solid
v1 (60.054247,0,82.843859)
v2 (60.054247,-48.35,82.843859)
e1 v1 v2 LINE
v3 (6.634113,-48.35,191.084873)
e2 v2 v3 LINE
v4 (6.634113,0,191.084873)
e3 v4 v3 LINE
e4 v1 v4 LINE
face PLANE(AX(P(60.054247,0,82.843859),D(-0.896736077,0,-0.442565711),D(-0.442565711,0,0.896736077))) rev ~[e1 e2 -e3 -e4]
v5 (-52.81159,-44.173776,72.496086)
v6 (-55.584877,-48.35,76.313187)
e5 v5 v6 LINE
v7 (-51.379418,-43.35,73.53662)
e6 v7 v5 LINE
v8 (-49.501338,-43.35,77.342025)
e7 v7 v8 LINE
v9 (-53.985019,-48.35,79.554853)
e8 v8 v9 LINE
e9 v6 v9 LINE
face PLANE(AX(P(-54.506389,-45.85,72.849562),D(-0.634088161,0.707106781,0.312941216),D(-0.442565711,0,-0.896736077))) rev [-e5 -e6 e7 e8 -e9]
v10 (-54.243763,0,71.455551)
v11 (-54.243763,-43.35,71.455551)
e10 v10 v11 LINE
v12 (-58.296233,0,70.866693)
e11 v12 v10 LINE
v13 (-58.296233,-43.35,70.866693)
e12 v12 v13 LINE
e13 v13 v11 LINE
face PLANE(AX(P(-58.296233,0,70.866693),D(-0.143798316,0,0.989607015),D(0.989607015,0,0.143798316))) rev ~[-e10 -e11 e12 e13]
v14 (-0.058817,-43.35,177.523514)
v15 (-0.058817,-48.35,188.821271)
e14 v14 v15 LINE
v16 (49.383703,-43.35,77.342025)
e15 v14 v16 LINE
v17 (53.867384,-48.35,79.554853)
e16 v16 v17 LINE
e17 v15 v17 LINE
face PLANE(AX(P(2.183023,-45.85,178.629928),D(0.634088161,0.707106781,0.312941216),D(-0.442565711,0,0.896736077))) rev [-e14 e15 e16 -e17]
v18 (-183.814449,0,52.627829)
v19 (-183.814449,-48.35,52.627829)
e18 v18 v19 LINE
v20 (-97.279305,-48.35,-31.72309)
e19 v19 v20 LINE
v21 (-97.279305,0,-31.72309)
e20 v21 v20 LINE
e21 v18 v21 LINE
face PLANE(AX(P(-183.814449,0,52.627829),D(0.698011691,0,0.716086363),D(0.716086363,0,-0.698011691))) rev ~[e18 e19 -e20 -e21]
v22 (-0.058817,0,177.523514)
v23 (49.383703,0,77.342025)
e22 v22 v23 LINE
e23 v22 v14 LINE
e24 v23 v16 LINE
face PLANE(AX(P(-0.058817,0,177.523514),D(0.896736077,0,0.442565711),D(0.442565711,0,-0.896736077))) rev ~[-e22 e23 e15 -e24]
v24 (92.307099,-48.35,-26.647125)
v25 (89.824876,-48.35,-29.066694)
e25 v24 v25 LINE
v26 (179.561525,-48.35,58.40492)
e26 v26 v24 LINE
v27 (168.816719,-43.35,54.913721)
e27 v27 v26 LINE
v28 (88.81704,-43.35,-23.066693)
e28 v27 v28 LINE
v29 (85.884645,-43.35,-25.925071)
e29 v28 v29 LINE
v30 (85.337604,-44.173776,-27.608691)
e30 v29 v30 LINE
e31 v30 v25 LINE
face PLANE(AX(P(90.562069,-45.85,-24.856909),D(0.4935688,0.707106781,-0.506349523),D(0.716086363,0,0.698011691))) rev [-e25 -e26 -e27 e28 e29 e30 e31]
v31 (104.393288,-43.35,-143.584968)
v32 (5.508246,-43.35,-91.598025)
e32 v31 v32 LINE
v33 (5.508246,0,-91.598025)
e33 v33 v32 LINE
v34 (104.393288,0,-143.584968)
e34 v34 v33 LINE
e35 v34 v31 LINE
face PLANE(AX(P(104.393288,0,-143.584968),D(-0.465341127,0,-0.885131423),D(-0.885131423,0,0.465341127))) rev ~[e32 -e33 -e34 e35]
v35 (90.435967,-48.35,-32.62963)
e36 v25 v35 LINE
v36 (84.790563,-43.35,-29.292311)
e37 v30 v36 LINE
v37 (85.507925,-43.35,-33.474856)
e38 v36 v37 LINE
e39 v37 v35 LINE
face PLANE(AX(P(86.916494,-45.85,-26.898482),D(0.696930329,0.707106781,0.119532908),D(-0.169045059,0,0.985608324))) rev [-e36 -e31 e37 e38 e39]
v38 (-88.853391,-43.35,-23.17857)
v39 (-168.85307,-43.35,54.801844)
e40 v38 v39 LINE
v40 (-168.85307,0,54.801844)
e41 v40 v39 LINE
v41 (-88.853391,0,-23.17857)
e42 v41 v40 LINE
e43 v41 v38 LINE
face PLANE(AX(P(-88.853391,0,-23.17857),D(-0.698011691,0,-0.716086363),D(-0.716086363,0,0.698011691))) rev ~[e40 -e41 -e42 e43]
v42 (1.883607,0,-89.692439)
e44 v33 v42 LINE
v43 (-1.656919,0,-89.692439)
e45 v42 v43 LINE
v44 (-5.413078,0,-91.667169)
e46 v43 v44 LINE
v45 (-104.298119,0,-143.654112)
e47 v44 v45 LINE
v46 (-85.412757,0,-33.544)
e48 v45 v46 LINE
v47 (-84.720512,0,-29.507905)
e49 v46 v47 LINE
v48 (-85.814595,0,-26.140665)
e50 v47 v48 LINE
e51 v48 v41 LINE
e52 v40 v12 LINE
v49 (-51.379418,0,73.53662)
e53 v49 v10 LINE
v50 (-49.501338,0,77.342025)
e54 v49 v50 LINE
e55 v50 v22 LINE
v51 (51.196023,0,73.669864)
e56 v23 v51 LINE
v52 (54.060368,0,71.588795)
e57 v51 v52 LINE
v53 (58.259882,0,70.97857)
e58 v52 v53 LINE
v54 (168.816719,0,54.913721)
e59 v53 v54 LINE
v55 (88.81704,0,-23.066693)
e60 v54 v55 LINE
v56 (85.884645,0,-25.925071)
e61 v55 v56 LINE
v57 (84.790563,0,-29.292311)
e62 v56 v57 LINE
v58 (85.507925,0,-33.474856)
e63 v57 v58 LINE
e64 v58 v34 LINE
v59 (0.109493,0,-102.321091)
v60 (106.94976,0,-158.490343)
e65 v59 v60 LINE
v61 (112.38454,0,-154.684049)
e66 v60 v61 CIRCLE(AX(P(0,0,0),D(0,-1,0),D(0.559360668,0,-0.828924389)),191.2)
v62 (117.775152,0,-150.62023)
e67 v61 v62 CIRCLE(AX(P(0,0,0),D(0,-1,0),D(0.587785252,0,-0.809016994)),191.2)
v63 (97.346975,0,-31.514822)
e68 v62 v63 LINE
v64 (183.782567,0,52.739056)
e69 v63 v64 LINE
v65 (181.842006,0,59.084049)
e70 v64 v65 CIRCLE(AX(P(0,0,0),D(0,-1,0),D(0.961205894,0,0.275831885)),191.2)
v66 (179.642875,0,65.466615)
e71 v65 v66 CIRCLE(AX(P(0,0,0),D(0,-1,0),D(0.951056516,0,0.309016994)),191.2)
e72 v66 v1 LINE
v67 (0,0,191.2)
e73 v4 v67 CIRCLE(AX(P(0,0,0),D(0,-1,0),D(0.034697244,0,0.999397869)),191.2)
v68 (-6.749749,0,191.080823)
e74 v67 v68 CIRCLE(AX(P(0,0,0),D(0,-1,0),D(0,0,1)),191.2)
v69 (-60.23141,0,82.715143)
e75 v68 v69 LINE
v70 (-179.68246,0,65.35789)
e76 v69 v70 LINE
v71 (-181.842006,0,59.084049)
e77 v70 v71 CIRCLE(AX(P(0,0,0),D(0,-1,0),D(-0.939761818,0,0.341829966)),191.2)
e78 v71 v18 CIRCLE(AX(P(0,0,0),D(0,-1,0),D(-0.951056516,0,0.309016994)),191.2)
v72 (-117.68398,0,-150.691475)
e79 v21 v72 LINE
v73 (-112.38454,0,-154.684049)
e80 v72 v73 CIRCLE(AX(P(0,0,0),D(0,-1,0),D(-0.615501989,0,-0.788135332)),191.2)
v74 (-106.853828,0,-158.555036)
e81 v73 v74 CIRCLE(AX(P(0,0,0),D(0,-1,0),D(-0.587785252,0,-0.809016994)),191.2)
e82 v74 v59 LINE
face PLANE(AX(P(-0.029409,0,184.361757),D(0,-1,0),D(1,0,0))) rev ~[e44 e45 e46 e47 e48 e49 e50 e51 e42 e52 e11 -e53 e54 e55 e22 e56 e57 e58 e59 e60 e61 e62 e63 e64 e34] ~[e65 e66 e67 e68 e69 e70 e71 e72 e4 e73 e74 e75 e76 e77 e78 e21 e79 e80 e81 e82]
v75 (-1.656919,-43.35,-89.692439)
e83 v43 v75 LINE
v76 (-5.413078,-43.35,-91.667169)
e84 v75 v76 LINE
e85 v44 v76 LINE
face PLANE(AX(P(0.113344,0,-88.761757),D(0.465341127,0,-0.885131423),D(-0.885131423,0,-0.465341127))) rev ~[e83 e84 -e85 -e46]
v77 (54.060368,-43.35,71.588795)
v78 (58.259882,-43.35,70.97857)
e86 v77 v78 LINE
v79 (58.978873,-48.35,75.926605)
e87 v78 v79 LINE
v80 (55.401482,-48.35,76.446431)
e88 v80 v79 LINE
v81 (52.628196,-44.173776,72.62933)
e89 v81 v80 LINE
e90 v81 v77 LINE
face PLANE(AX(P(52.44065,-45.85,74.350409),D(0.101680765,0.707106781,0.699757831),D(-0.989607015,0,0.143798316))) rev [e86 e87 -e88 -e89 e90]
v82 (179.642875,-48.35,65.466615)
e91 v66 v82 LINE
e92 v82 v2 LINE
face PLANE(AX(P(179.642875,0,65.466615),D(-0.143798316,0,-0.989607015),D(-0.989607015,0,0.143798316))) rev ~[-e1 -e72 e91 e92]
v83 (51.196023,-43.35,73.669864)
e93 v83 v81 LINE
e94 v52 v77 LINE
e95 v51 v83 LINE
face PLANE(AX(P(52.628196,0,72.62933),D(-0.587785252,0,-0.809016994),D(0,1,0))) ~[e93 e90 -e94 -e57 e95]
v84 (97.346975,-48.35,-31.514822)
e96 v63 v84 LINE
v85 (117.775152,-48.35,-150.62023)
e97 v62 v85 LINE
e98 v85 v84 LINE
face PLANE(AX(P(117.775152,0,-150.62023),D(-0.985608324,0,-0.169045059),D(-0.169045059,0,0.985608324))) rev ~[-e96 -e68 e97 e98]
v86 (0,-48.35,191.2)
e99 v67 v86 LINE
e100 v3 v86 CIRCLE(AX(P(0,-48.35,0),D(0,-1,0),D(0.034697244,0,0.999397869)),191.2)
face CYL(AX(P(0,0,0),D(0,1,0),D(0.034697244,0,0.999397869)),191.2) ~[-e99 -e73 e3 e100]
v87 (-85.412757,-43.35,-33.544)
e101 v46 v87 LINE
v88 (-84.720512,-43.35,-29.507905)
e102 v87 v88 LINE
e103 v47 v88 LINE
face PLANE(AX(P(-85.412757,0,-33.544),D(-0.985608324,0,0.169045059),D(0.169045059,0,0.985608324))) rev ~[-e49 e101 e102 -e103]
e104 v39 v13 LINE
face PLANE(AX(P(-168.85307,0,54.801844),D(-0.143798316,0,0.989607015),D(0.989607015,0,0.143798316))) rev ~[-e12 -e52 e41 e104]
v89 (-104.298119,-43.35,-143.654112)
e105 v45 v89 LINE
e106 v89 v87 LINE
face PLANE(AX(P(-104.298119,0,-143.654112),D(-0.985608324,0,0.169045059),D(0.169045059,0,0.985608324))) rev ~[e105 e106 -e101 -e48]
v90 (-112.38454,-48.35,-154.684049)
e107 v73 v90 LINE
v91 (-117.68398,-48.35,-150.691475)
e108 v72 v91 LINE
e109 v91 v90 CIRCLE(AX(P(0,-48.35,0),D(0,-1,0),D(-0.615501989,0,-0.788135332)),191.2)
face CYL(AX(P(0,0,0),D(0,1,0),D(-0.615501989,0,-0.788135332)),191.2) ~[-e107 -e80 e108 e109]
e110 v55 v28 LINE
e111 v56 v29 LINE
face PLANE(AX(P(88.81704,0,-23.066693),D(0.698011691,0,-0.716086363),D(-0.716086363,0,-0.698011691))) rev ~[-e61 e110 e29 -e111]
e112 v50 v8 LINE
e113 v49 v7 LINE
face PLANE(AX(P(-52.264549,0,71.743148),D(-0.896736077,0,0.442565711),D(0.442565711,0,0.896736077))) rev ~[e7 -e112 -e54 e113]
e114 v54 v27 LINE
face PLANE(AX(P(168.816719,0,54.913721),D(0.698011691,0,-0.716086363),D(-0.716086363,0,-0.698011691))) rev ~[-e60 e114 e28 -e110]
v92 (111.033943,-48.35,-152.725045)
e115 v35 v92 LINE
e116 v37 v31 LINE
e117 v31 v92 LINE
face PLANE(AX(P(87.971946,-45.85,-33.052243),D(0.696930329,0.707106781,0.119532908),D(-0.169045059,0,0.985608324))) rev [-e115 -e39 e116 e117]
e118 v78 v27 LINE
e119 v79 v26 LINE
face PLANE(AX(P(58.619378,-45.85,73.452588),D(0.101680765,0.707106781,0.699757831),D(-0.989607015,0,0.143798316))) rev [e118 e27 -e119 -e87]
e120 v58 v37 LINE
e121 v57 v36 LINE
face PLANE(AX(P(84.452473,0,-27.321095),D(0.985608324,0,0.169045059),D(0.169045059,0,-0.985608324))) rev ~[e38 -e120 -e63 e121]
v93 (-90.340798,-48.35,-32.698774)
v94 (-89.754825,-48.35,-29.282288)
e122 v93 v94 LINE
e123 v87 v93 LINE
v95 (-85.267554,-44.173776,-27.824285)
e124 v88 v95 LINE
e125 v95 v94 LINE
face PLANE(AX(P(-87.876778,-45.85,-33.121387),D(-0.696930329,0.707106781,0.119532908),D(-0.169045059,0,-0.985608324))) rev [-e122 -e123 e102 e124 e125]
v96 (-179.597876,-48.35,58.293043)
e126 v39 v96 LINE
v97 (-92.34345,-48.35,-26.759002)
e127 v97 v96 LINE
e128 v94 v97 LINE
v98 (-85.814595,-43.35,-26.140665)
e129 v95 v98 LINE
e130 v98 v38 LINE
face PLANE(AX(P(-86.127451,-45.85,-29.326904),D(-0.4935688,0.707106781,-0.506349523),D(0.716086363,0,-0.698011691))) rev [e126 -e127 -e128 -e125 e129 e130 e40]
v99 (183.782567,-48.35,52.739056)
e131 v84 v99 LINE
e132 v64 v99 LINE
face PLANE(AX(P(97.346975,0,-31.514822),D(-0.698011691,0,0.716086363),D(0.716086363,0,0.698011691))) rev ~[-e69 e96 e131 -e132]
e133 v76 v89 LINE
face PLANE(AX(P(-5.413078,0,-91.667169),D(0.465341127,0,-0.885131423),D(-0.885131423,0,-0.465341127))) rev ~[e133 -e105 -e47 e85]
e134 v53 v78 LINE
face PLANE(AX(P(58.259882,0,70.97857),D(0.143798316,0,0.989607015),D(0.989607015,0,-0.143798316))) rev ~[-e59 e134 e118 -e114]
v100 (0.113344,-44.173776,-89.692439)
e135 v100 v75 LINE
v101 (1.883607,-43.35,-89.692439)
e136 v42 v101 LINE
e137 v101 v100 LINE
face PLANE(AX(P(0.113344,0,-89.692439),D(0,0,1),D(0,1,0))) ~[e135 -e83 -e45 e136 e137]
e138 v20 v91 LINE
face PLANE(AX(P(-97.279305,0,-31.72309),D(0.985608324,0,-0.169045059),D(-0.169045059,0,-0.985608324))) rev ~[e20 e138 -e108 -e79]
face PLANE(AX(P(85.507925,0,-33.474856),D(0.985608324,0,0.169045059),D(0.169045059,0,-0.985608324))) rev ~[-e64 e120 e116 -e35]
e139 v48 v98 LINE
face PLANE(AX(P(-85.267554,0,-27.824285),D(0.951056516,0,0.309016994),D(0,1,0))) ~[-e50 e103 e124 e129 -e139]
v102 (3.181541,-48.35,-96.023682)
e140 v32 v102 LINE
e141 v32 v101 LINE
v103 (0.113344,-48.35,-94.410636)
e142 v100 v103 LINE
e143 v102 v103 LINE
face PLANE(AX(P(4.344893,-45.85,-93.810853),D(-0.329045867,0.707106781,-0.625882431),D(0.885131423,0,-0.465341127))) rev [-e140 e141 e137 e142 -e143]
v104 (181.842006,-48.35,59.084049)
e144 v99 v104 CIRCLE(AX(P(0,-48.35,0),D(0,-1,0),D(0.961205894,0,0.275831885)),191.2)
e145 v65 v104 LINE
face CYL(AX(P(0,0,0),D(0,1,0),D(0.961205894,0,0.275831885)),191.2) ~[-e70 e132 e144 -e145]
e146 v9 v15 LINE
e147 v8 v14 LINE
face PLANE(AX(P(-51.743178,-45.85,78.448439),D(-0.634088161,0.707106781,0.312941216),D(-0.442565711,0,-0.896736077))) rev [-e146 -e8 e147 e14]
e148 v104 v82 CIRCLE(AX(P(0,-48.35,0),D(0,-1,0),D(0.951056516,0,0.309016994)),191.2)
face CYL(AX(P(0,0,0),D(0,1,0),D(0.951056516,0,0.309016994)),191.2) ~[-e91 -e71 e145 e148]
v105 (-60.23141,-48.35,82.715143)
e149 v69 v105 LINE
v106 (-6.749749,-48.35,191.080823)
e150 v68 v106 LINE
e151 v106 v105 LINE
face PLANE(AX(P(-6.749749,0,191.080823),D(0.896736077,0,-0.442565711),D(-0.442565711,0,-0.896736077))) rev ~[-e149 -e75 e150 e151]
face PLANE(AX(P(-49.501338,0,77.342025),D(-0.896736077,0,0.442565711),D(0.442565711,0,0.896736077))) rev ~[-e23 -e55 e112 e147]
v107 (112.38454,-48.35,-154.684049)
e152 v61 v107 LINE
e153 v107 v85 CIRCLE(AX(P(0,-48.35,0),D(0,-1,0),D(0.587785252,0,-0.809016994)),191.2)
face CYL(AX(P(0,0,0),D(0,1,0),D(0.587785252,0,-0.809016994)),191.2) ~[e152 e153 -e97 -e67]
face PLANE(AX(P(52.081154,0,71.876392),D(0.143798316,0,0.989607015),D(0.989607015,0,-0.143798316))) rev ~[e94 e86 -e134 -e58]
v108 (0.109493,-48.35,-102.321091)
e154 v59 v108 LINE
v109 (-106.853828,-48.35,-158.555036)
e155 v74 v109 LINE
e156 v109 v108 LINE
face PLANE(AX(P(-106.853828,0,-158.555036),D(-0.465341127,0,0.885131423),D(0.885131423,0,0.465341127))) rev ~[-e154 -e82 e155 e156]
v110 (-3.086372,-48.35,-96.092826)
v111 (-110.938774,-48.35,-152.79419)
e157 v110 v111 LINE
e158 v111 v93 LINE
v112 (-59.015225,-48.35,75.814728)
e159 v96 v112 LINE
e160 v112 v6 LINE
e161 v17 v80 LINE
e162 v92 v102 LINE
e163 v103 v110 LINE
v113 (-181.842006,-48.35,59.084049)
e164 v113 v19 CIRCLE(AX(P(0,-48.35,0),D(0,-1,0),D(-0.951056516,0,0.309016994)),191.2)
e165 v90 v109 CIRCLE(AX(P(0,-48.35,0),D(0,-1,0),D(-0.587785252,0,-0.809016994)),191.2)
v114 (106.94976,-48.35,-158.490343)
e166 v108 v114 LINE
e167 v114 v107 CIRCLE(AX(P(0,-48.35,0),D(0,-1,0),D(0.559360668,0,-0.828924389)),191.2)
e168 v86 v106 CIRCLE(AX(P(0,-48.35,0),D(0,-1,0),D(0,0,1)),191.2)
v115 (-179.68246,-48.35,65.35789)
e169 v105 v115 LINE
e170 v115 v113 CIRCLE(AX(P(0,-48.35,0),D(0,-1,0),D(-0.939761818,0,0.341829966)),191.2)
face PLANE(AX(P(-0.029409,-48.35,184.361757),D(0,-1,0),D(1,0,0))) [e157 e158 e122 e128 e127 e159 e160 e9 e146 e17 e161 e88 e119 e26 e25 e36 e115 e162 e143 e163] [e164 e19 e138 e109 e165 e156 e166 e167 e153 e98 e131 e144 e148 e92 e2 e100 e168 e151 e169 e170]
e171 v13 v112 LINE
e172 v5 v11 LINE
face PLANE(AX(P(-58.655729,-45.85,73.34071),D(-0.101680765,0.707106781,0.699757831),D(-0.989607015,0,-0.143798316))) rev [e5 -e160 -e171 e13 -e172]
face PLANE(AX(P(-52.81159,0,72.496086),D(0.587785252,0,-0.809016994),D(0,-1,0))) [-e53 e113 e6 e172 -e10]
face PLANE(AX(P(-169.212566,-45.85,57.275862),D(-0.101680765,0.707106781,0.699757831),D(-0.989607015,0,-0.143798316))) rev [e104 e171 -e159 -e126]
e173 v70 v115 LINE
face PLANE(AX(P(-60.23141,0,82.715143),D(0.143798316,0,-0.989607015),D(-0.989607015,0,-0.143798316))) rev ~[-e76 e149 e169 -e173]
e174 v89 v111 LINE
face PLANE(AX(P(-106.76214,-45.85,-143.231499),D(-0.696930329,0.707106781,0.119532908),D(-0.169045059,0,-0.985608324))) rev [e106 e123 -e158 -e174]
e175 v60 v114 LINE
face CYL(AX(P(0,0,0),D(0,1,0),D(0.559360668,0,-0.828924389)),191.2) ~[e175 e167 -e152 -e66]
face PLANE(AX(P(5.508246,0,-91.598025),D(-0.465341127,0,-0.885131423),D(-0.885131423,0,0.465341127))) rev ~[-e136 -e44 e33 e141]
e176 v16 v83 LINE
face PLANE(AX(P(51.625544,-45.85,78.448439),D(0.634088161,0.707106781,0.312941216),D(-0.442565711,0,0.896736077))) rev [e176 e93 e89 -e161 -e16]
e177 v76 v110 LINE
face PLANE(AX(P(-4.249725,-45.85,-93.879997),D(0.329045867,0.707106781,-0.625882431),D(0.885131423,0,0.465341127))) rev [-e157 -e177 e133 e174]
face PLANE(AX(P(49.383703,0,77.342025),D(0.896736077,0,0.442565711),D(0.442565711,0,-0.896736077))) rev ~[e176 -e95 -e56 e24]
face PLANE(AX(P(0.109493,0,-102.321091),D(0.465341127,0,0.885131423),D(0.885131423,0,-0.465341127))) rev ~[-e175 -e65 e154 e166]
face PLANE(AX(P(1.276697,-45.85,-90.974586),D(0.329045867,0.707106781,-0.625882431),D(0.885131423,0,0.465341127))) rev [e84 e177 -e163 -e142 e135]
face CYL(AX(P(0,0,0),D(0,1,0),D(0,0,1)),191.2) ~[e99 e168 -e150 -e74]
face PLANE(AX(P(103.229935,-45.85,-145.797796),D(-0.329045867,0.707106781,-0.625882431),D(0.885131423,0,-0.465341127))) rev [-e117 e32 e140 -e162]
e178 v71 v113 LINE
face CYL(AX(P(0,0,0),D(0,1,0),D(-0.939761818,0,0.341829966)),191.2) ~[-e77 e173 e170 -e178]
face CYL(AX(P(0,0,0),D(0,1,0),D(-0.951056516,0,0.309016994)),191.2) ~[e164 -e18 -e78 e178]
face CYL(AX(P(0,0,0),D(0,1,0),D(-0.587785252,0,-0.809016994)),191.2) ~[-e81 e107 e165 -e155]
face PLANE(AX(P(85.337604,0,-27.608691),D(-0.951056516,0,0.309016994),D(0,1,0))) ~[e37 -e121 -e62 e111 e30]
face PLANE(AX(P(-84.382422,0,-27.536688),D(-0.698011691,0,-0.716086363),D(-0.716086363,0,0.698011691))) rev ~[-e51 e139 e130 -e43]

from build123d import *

# Parameters (mm, degrees)
F1_DEPTH = 48.35
F2_SIZE  = 5
F3_SIZE  = 2


with BuildPart() as f1:
    # F0 (on Front) → F1 (new body)
    with BuildSketch(Plane.XZ):
        Polygon((3.3454659382, 184.4213456143), (0, 191.2), (-3.4042833476, 184.3021685259), (-0.0588174093, 177.5235141402), align=None)
        with BuildLine():
            Line((3.3454659382, 184.4213456143), (6.6341131163, 191.0848726173))
            ThreePointArc((6.6341131163, 191.0848726173), (3.3175559963, 191.1712159877), (0, 191.2))
            Line((0, 191.2), (3.3454659382, 184.4213456143))
        make_face()
        with BuildLine():
            Line((-3.4042833476, 184.3021685259), (0, 191.2))
            ThreePointArc((0, 191.2), (-3.3754006651, 191.1702034062), (-6.7497492858, 191.0808229116))
            Line((-6.7497492858, 191.0808229116), (-3.4042833476, 184.3021685259))
        make_face()
        Polygon((-3.4042833476, 184.3021685259), (-6.7497492858, 191.0808229116), (-60.2314095212, 82.7151430913), (-53.0235747303, 83.7625027933), align=None)
        Polygon((-0.0588174093, 177.5235141402), (-3.4042833476, 184.3021685259), (-53.0235747303, 83.7625027933), (-56.1922701192, 77.3420246622), (-49.5013382427, 77.3420246622), align=None)
        Polygon((52.9688284065, 83.8734309614), (3.3454659382, 184.4213456143), (-0.0588174093, 177.5235141402), (49.383703424, 77.3420246622), (56.1922701192, 77.3420246622), align=None)
        Polygon((60.054246696, 82.8438594182), (6.6341131163, 191.0848726173), (3.3454659382, 184.4213456143), (52.9688284065, 83.8734309614), align=None)
        Polygon((52.0811544326, 71.876391938), (58.2598817772, 70.9785703011), (56.1922701192, 77.3420246622), (49.383703424, 77.3420246622), align=None)
        Polygon((63.2776884086, 76.312453119), (60.054246696, 82.8438594182), (52.9688284065, 83.8734309614), (56.1922701192, 77.3420246622), align=None)
        Polygon((174.2297969358, 60.1901680357), (179.6428745321, 65.4666146204), (60.054246696, 82.8438594182), (63.2776884086, 76.312453119), align=None)
        Polygon((168.8167193396, 54.9137214509), (174.2297969358, 60.1901680357), (63.2776884086, 76.312453119), (56.1922701192, 77.3420246622), (58.2598817772, 70.9785703011), align=None)
        Polygon((96.1366412096, -24.458033873), (176.4289283194, 53.8076027397), (168.8167193396, 54.9137214509), (88.8170401417, -23.0666929402), (90.9210029578, -29.5420246622), align=None)
        Polygon((97.3469751481, -31.5148222116), (183.7825669636, 52.7390564976), (176.4289283194, 53.8076027397), (96.1366412096, -24.458033873), align=None)
        Polygon((176.4289283194, 53.8076027397), (181.8420059156, 59.0840493245), (174.2297969358, 60.1901680357), (168.8167193396, 54.9137214509), align=None)
        with BuildLine():
            Line((174.2297969358, 60.1901680357), (181.8420059156, 59.0840493245))
            ThreePointArc((181.8420059156, 59.0840493245), (180.7706115026, 62.2850384682), (179.6428745321, 65.4666146204))
            Line((179.6428745321, 65.4666146204), (174.2297969358, 60.1901680357))
        make_face()
        with BuildLine():
            Line((176.4289283194, 53.8076027397), (183.7825669636, 52.7390564976))
            ThreePointArc((183.7825669636, 52.7390564976), (182.8398118758, 55.9199713271), (181.8420059156, 59.0840493245))
            Line((181.8420059156, 59.0840493245), (176.4289283194, 53.8076027397))
        make_face()
        Polygon((85.5079253616, -33.4748557433), (90.9210029578, -29.5420246622), (88.8170401417, -23.0666929402), (84.4524727268, -27.3210946961), align=None)
        Polygon((92.1313368964, -36.5988130009), (97.3469751481, -31.5148222116), (96.1366412096, -24.458033873), (90.9210029578, -29.5420246622), align=None)
        Polygon((104.3932878305, -143.5849678348), (111.0842197069, -147.1025988913), (92.1313368964, -36.5988130009), (90.9210029578, -29.5420246622), (85.5079253616, -33.4748557433), align=None)
        Polygon((111.0842197069, -147.1025988913), (117.7751515833, -150.6202299478), (97.3469751481, -31.5148222116), (92.1313368964, -36.5988130009), align=None)
        Polygon((105.6936083619, -151.166418268), (112.3845402383, -154.6840493245), (111.0842197069, -147.1025988913), (104.3932878305, -143.5849678348), align=None)
        with BuildLine():
            ThreePointArc((112.3845402383, -154.6840493245), (115.0977827408, -152.6759326422), (117.7751515833, -150.6202299478))
            Line((117.7751515833, -150.6202299478), (111.0842197069, -147.1025988913))
            Line((111.0842197069, -147.1025988913), (112.3845402383, -154.6840493245))
        make_face()
        with BuildLine():
            ThreePointArc((106.9497598069, -158.4903431672), (109.6836622396, -156.6107730576), (112.3845402383, -154.6840493245))
            Line((112.3845402383, -154.6840493245), (105.6936083619, -151.166418268))
            Line((105.6936083619, -151.166418268), (106.9497598069, -158.4903431672))
        make_face()
        Polygon((0.1094926475, -102.3210906944), (106.9497598069, -158.4903431672), (105.6936083619, -151.166418268), (6.4468834252, -98.9893271929), align=None)
        Polygon((6.4468834252, -98.9893271929), (105.6936083619, -151.166418268), (104.3932878305, -143.5849678348), (5.5082461637, -91.5980249074), (0, -95.6), align=None)
        Polygon((-6.3373907777, -98.9317635015), (0.1094926475, -102.3210906944), (6.4468834252, -98.9893271929), (0, -95.6), align=None)
        Polygon((0, -95.6), (5.5082461637, -91.5980249074), (0.1133441465, -88.7617570701), (-5.4130775962, -91.6671689189), align=None)
        Polygon((-104.298119263, -143.6541118464), (-105.5759735432, -151.1045739839), (-6.3373907777, -98.9317635015), (0, -95.6), (-5.4130775962, -91.6671689189), align=None)
        Polygon((-105.5759735432, -151.1045739839), (-106.8538278234, -158.5550361215), (0.1094926475, -102.3210906944), (-6.3373907777, -98.9317635015), align=None)
        Polygon((-111.1066859581, -147.2335871869), (-112.3845402383, -154.6840493245), (-105.5759735432, -151.1045739839), (-104.298119263, -143.6541118464), align=None)
        with BuildLine():
            ThreePointArc((-117.6839803143, -150.6914754635), (-115.0515806012, -152.7107520811), (-112.3845402383, -154.6840493245))
            Line((-112.3845402383, -154.6840493245), (-111.1066859581, -147.2335871869))
            Line((-111.1066859581, -147.2335871869), (-117.6839803143, -150.6914754635))
        make_face()
        with BuildLine():
            ThreePointArc((-112.3845402383, -154.6840493245), (-109.636269739, -156.6439541052), (-106.8538278234, -158.5550361215))
            Line((-106.8538278234, -158.5550361215), (-105.5759735432, -151.1045739839))
            Line((-105.5759735432, -151.1045739839), (-112.3845402383, -154.6840493245))
        make_face()
        Polygon((-92.1522481313, -36.7207348557), (-111.1066859581, -147.2335871869), (-104.298119263, -143.6541118464), (-85.4127567941, -33.5439997549), (-90.9210029578, -29.5420246622), align=None)
        Polygon((-97.2793049704, -31.7230896035), (-117.6839803143, -150.6914754635), (-111.1066859581, -147.2335871869), (-92.1522481313, -36.7207348557), align=None)
        Polygon((-90.9210029578, -29.5420246622), (-85.4127567941, -33.5439997549), (-84.3824221918, -27.5366880744), (-88.8533912998, -23.1785703011), align=None)
        Polygon((-96.048059797, -24.54437941), (-97.2793049704, -31.7230896035), (-92.1522481313, -36.7207348557), (-90.9210029578, -29.5420246622), align=None)
        Polygon((-168.8530704977, 54.80184409), (-176.3337597519, 53.7148363136), (-96.048059797, -24.54437941), (-90.9210029578, -29.5420246622), (-88.8533912998, -23.1785703011), align=None)
        Polygon((-176.3337597519, 53.7148363136), (-183.8144490062, 52.6278285372), (-97.2793049704, -31.7230896035), (-96.048059797, -24.54437941), align=None)
        Polygon((-174.3613166614, 60.1710571009), (-181.8420059156, 59.0840493245), (-176.3337597519, 53.7148363136), (-168.8530704977, 54.80184409), align=None)
        with BuildLine():
            ThreePointArc((-181.8420059156, 59.0840493245), (-182.8567238392, 55.864644873), (-183.8144490062, 52.6278285372))
            Line((-183.8144490062, 52.6278285372), (-176.3337597519, 53.7148363136))
            Line((-176.3337597519, 53.7148363136), (-181.8420059156, 59.0840493245))
        make_face()
        with BuildLine():
            Line((-174.3613166614, 60.1710571009), (-179.6824595725, 65.3578895158))
            ThreePointArc((-179.6824595725, 65.3578895158), (-180.7894495105, 62.230337824), (-181.8420059156, 59.0840493245))
            Line((-181.8420059156, 59.0840493245), (-174.3613166614, 60.1710571009))
        make_face()
        Polygon((-60.2314095212, 82.7151430913), (-179.6824595725, 65.3578895158), (-174.3613166614, 60.1710571009), (-63.4001049101, 76.2946649602), align=None)
        Polygon((-63.4001049101, 76.2946649602), (-174.3613166614, 60.1710571009), (-168.8530704977, 54.80184409), (-58.2962329353, 70.8666929402), (-56.1922701192, 77.3420246622), align=None)
        Polygon((-53.0235747303, 83.7625027933), (-60.2314095212, 82.7151430913), (-63.4001049101, 76.2946649602), (-56.1922701192, 77.3420246622), align=None)
        Polygon((-52.2645491141, 71.7431479025), (-49.5013382427, 77.3420246622), (-56.1922701192, 77.3420246622), (-58.2962329353, 70.8666929402), align=None)
    extrude(amount=F1_DEPTH)

    # F2
    f2_edges = [f1.edges().sort_by_distance(p)[0] for p in [
        (-126.617746, -48.35, 13.632578),
        (-94.340271, -48.35, -85.5954),
        (-52.092388, -48.35, -116.207934),
        (52.253316, -48.35, -116.173362),
        (94.42288, -48.35, -85.453031),
        (126.634596, -48.35, 13.796313),
        (110.448937, -48.35, 63.395057),
        (26.011169, -48.35, 124.699953),
        (-26.161683, -48.35, 124.633331),
        (-110.55881, -48.35, 63.272496),
    ]]
    chamfer(f2_edges, length=F2_SIZE)

    # F3
    f3_edges = [f1.edges().sort_by_distance(p)[0] for p in [
        (-84.382422, -21.675, -27.536688),
        (-52.264549, -21.675, 71.743148),
        (0.113344, -21.675, -88.761757),
        (84.452473, -21.675, -27.321095),
        (52.081154, -21.675, 71.876392),
    ]]
    chamfer(f3_edges, length=F3_SIZE)


solid = f1.part
